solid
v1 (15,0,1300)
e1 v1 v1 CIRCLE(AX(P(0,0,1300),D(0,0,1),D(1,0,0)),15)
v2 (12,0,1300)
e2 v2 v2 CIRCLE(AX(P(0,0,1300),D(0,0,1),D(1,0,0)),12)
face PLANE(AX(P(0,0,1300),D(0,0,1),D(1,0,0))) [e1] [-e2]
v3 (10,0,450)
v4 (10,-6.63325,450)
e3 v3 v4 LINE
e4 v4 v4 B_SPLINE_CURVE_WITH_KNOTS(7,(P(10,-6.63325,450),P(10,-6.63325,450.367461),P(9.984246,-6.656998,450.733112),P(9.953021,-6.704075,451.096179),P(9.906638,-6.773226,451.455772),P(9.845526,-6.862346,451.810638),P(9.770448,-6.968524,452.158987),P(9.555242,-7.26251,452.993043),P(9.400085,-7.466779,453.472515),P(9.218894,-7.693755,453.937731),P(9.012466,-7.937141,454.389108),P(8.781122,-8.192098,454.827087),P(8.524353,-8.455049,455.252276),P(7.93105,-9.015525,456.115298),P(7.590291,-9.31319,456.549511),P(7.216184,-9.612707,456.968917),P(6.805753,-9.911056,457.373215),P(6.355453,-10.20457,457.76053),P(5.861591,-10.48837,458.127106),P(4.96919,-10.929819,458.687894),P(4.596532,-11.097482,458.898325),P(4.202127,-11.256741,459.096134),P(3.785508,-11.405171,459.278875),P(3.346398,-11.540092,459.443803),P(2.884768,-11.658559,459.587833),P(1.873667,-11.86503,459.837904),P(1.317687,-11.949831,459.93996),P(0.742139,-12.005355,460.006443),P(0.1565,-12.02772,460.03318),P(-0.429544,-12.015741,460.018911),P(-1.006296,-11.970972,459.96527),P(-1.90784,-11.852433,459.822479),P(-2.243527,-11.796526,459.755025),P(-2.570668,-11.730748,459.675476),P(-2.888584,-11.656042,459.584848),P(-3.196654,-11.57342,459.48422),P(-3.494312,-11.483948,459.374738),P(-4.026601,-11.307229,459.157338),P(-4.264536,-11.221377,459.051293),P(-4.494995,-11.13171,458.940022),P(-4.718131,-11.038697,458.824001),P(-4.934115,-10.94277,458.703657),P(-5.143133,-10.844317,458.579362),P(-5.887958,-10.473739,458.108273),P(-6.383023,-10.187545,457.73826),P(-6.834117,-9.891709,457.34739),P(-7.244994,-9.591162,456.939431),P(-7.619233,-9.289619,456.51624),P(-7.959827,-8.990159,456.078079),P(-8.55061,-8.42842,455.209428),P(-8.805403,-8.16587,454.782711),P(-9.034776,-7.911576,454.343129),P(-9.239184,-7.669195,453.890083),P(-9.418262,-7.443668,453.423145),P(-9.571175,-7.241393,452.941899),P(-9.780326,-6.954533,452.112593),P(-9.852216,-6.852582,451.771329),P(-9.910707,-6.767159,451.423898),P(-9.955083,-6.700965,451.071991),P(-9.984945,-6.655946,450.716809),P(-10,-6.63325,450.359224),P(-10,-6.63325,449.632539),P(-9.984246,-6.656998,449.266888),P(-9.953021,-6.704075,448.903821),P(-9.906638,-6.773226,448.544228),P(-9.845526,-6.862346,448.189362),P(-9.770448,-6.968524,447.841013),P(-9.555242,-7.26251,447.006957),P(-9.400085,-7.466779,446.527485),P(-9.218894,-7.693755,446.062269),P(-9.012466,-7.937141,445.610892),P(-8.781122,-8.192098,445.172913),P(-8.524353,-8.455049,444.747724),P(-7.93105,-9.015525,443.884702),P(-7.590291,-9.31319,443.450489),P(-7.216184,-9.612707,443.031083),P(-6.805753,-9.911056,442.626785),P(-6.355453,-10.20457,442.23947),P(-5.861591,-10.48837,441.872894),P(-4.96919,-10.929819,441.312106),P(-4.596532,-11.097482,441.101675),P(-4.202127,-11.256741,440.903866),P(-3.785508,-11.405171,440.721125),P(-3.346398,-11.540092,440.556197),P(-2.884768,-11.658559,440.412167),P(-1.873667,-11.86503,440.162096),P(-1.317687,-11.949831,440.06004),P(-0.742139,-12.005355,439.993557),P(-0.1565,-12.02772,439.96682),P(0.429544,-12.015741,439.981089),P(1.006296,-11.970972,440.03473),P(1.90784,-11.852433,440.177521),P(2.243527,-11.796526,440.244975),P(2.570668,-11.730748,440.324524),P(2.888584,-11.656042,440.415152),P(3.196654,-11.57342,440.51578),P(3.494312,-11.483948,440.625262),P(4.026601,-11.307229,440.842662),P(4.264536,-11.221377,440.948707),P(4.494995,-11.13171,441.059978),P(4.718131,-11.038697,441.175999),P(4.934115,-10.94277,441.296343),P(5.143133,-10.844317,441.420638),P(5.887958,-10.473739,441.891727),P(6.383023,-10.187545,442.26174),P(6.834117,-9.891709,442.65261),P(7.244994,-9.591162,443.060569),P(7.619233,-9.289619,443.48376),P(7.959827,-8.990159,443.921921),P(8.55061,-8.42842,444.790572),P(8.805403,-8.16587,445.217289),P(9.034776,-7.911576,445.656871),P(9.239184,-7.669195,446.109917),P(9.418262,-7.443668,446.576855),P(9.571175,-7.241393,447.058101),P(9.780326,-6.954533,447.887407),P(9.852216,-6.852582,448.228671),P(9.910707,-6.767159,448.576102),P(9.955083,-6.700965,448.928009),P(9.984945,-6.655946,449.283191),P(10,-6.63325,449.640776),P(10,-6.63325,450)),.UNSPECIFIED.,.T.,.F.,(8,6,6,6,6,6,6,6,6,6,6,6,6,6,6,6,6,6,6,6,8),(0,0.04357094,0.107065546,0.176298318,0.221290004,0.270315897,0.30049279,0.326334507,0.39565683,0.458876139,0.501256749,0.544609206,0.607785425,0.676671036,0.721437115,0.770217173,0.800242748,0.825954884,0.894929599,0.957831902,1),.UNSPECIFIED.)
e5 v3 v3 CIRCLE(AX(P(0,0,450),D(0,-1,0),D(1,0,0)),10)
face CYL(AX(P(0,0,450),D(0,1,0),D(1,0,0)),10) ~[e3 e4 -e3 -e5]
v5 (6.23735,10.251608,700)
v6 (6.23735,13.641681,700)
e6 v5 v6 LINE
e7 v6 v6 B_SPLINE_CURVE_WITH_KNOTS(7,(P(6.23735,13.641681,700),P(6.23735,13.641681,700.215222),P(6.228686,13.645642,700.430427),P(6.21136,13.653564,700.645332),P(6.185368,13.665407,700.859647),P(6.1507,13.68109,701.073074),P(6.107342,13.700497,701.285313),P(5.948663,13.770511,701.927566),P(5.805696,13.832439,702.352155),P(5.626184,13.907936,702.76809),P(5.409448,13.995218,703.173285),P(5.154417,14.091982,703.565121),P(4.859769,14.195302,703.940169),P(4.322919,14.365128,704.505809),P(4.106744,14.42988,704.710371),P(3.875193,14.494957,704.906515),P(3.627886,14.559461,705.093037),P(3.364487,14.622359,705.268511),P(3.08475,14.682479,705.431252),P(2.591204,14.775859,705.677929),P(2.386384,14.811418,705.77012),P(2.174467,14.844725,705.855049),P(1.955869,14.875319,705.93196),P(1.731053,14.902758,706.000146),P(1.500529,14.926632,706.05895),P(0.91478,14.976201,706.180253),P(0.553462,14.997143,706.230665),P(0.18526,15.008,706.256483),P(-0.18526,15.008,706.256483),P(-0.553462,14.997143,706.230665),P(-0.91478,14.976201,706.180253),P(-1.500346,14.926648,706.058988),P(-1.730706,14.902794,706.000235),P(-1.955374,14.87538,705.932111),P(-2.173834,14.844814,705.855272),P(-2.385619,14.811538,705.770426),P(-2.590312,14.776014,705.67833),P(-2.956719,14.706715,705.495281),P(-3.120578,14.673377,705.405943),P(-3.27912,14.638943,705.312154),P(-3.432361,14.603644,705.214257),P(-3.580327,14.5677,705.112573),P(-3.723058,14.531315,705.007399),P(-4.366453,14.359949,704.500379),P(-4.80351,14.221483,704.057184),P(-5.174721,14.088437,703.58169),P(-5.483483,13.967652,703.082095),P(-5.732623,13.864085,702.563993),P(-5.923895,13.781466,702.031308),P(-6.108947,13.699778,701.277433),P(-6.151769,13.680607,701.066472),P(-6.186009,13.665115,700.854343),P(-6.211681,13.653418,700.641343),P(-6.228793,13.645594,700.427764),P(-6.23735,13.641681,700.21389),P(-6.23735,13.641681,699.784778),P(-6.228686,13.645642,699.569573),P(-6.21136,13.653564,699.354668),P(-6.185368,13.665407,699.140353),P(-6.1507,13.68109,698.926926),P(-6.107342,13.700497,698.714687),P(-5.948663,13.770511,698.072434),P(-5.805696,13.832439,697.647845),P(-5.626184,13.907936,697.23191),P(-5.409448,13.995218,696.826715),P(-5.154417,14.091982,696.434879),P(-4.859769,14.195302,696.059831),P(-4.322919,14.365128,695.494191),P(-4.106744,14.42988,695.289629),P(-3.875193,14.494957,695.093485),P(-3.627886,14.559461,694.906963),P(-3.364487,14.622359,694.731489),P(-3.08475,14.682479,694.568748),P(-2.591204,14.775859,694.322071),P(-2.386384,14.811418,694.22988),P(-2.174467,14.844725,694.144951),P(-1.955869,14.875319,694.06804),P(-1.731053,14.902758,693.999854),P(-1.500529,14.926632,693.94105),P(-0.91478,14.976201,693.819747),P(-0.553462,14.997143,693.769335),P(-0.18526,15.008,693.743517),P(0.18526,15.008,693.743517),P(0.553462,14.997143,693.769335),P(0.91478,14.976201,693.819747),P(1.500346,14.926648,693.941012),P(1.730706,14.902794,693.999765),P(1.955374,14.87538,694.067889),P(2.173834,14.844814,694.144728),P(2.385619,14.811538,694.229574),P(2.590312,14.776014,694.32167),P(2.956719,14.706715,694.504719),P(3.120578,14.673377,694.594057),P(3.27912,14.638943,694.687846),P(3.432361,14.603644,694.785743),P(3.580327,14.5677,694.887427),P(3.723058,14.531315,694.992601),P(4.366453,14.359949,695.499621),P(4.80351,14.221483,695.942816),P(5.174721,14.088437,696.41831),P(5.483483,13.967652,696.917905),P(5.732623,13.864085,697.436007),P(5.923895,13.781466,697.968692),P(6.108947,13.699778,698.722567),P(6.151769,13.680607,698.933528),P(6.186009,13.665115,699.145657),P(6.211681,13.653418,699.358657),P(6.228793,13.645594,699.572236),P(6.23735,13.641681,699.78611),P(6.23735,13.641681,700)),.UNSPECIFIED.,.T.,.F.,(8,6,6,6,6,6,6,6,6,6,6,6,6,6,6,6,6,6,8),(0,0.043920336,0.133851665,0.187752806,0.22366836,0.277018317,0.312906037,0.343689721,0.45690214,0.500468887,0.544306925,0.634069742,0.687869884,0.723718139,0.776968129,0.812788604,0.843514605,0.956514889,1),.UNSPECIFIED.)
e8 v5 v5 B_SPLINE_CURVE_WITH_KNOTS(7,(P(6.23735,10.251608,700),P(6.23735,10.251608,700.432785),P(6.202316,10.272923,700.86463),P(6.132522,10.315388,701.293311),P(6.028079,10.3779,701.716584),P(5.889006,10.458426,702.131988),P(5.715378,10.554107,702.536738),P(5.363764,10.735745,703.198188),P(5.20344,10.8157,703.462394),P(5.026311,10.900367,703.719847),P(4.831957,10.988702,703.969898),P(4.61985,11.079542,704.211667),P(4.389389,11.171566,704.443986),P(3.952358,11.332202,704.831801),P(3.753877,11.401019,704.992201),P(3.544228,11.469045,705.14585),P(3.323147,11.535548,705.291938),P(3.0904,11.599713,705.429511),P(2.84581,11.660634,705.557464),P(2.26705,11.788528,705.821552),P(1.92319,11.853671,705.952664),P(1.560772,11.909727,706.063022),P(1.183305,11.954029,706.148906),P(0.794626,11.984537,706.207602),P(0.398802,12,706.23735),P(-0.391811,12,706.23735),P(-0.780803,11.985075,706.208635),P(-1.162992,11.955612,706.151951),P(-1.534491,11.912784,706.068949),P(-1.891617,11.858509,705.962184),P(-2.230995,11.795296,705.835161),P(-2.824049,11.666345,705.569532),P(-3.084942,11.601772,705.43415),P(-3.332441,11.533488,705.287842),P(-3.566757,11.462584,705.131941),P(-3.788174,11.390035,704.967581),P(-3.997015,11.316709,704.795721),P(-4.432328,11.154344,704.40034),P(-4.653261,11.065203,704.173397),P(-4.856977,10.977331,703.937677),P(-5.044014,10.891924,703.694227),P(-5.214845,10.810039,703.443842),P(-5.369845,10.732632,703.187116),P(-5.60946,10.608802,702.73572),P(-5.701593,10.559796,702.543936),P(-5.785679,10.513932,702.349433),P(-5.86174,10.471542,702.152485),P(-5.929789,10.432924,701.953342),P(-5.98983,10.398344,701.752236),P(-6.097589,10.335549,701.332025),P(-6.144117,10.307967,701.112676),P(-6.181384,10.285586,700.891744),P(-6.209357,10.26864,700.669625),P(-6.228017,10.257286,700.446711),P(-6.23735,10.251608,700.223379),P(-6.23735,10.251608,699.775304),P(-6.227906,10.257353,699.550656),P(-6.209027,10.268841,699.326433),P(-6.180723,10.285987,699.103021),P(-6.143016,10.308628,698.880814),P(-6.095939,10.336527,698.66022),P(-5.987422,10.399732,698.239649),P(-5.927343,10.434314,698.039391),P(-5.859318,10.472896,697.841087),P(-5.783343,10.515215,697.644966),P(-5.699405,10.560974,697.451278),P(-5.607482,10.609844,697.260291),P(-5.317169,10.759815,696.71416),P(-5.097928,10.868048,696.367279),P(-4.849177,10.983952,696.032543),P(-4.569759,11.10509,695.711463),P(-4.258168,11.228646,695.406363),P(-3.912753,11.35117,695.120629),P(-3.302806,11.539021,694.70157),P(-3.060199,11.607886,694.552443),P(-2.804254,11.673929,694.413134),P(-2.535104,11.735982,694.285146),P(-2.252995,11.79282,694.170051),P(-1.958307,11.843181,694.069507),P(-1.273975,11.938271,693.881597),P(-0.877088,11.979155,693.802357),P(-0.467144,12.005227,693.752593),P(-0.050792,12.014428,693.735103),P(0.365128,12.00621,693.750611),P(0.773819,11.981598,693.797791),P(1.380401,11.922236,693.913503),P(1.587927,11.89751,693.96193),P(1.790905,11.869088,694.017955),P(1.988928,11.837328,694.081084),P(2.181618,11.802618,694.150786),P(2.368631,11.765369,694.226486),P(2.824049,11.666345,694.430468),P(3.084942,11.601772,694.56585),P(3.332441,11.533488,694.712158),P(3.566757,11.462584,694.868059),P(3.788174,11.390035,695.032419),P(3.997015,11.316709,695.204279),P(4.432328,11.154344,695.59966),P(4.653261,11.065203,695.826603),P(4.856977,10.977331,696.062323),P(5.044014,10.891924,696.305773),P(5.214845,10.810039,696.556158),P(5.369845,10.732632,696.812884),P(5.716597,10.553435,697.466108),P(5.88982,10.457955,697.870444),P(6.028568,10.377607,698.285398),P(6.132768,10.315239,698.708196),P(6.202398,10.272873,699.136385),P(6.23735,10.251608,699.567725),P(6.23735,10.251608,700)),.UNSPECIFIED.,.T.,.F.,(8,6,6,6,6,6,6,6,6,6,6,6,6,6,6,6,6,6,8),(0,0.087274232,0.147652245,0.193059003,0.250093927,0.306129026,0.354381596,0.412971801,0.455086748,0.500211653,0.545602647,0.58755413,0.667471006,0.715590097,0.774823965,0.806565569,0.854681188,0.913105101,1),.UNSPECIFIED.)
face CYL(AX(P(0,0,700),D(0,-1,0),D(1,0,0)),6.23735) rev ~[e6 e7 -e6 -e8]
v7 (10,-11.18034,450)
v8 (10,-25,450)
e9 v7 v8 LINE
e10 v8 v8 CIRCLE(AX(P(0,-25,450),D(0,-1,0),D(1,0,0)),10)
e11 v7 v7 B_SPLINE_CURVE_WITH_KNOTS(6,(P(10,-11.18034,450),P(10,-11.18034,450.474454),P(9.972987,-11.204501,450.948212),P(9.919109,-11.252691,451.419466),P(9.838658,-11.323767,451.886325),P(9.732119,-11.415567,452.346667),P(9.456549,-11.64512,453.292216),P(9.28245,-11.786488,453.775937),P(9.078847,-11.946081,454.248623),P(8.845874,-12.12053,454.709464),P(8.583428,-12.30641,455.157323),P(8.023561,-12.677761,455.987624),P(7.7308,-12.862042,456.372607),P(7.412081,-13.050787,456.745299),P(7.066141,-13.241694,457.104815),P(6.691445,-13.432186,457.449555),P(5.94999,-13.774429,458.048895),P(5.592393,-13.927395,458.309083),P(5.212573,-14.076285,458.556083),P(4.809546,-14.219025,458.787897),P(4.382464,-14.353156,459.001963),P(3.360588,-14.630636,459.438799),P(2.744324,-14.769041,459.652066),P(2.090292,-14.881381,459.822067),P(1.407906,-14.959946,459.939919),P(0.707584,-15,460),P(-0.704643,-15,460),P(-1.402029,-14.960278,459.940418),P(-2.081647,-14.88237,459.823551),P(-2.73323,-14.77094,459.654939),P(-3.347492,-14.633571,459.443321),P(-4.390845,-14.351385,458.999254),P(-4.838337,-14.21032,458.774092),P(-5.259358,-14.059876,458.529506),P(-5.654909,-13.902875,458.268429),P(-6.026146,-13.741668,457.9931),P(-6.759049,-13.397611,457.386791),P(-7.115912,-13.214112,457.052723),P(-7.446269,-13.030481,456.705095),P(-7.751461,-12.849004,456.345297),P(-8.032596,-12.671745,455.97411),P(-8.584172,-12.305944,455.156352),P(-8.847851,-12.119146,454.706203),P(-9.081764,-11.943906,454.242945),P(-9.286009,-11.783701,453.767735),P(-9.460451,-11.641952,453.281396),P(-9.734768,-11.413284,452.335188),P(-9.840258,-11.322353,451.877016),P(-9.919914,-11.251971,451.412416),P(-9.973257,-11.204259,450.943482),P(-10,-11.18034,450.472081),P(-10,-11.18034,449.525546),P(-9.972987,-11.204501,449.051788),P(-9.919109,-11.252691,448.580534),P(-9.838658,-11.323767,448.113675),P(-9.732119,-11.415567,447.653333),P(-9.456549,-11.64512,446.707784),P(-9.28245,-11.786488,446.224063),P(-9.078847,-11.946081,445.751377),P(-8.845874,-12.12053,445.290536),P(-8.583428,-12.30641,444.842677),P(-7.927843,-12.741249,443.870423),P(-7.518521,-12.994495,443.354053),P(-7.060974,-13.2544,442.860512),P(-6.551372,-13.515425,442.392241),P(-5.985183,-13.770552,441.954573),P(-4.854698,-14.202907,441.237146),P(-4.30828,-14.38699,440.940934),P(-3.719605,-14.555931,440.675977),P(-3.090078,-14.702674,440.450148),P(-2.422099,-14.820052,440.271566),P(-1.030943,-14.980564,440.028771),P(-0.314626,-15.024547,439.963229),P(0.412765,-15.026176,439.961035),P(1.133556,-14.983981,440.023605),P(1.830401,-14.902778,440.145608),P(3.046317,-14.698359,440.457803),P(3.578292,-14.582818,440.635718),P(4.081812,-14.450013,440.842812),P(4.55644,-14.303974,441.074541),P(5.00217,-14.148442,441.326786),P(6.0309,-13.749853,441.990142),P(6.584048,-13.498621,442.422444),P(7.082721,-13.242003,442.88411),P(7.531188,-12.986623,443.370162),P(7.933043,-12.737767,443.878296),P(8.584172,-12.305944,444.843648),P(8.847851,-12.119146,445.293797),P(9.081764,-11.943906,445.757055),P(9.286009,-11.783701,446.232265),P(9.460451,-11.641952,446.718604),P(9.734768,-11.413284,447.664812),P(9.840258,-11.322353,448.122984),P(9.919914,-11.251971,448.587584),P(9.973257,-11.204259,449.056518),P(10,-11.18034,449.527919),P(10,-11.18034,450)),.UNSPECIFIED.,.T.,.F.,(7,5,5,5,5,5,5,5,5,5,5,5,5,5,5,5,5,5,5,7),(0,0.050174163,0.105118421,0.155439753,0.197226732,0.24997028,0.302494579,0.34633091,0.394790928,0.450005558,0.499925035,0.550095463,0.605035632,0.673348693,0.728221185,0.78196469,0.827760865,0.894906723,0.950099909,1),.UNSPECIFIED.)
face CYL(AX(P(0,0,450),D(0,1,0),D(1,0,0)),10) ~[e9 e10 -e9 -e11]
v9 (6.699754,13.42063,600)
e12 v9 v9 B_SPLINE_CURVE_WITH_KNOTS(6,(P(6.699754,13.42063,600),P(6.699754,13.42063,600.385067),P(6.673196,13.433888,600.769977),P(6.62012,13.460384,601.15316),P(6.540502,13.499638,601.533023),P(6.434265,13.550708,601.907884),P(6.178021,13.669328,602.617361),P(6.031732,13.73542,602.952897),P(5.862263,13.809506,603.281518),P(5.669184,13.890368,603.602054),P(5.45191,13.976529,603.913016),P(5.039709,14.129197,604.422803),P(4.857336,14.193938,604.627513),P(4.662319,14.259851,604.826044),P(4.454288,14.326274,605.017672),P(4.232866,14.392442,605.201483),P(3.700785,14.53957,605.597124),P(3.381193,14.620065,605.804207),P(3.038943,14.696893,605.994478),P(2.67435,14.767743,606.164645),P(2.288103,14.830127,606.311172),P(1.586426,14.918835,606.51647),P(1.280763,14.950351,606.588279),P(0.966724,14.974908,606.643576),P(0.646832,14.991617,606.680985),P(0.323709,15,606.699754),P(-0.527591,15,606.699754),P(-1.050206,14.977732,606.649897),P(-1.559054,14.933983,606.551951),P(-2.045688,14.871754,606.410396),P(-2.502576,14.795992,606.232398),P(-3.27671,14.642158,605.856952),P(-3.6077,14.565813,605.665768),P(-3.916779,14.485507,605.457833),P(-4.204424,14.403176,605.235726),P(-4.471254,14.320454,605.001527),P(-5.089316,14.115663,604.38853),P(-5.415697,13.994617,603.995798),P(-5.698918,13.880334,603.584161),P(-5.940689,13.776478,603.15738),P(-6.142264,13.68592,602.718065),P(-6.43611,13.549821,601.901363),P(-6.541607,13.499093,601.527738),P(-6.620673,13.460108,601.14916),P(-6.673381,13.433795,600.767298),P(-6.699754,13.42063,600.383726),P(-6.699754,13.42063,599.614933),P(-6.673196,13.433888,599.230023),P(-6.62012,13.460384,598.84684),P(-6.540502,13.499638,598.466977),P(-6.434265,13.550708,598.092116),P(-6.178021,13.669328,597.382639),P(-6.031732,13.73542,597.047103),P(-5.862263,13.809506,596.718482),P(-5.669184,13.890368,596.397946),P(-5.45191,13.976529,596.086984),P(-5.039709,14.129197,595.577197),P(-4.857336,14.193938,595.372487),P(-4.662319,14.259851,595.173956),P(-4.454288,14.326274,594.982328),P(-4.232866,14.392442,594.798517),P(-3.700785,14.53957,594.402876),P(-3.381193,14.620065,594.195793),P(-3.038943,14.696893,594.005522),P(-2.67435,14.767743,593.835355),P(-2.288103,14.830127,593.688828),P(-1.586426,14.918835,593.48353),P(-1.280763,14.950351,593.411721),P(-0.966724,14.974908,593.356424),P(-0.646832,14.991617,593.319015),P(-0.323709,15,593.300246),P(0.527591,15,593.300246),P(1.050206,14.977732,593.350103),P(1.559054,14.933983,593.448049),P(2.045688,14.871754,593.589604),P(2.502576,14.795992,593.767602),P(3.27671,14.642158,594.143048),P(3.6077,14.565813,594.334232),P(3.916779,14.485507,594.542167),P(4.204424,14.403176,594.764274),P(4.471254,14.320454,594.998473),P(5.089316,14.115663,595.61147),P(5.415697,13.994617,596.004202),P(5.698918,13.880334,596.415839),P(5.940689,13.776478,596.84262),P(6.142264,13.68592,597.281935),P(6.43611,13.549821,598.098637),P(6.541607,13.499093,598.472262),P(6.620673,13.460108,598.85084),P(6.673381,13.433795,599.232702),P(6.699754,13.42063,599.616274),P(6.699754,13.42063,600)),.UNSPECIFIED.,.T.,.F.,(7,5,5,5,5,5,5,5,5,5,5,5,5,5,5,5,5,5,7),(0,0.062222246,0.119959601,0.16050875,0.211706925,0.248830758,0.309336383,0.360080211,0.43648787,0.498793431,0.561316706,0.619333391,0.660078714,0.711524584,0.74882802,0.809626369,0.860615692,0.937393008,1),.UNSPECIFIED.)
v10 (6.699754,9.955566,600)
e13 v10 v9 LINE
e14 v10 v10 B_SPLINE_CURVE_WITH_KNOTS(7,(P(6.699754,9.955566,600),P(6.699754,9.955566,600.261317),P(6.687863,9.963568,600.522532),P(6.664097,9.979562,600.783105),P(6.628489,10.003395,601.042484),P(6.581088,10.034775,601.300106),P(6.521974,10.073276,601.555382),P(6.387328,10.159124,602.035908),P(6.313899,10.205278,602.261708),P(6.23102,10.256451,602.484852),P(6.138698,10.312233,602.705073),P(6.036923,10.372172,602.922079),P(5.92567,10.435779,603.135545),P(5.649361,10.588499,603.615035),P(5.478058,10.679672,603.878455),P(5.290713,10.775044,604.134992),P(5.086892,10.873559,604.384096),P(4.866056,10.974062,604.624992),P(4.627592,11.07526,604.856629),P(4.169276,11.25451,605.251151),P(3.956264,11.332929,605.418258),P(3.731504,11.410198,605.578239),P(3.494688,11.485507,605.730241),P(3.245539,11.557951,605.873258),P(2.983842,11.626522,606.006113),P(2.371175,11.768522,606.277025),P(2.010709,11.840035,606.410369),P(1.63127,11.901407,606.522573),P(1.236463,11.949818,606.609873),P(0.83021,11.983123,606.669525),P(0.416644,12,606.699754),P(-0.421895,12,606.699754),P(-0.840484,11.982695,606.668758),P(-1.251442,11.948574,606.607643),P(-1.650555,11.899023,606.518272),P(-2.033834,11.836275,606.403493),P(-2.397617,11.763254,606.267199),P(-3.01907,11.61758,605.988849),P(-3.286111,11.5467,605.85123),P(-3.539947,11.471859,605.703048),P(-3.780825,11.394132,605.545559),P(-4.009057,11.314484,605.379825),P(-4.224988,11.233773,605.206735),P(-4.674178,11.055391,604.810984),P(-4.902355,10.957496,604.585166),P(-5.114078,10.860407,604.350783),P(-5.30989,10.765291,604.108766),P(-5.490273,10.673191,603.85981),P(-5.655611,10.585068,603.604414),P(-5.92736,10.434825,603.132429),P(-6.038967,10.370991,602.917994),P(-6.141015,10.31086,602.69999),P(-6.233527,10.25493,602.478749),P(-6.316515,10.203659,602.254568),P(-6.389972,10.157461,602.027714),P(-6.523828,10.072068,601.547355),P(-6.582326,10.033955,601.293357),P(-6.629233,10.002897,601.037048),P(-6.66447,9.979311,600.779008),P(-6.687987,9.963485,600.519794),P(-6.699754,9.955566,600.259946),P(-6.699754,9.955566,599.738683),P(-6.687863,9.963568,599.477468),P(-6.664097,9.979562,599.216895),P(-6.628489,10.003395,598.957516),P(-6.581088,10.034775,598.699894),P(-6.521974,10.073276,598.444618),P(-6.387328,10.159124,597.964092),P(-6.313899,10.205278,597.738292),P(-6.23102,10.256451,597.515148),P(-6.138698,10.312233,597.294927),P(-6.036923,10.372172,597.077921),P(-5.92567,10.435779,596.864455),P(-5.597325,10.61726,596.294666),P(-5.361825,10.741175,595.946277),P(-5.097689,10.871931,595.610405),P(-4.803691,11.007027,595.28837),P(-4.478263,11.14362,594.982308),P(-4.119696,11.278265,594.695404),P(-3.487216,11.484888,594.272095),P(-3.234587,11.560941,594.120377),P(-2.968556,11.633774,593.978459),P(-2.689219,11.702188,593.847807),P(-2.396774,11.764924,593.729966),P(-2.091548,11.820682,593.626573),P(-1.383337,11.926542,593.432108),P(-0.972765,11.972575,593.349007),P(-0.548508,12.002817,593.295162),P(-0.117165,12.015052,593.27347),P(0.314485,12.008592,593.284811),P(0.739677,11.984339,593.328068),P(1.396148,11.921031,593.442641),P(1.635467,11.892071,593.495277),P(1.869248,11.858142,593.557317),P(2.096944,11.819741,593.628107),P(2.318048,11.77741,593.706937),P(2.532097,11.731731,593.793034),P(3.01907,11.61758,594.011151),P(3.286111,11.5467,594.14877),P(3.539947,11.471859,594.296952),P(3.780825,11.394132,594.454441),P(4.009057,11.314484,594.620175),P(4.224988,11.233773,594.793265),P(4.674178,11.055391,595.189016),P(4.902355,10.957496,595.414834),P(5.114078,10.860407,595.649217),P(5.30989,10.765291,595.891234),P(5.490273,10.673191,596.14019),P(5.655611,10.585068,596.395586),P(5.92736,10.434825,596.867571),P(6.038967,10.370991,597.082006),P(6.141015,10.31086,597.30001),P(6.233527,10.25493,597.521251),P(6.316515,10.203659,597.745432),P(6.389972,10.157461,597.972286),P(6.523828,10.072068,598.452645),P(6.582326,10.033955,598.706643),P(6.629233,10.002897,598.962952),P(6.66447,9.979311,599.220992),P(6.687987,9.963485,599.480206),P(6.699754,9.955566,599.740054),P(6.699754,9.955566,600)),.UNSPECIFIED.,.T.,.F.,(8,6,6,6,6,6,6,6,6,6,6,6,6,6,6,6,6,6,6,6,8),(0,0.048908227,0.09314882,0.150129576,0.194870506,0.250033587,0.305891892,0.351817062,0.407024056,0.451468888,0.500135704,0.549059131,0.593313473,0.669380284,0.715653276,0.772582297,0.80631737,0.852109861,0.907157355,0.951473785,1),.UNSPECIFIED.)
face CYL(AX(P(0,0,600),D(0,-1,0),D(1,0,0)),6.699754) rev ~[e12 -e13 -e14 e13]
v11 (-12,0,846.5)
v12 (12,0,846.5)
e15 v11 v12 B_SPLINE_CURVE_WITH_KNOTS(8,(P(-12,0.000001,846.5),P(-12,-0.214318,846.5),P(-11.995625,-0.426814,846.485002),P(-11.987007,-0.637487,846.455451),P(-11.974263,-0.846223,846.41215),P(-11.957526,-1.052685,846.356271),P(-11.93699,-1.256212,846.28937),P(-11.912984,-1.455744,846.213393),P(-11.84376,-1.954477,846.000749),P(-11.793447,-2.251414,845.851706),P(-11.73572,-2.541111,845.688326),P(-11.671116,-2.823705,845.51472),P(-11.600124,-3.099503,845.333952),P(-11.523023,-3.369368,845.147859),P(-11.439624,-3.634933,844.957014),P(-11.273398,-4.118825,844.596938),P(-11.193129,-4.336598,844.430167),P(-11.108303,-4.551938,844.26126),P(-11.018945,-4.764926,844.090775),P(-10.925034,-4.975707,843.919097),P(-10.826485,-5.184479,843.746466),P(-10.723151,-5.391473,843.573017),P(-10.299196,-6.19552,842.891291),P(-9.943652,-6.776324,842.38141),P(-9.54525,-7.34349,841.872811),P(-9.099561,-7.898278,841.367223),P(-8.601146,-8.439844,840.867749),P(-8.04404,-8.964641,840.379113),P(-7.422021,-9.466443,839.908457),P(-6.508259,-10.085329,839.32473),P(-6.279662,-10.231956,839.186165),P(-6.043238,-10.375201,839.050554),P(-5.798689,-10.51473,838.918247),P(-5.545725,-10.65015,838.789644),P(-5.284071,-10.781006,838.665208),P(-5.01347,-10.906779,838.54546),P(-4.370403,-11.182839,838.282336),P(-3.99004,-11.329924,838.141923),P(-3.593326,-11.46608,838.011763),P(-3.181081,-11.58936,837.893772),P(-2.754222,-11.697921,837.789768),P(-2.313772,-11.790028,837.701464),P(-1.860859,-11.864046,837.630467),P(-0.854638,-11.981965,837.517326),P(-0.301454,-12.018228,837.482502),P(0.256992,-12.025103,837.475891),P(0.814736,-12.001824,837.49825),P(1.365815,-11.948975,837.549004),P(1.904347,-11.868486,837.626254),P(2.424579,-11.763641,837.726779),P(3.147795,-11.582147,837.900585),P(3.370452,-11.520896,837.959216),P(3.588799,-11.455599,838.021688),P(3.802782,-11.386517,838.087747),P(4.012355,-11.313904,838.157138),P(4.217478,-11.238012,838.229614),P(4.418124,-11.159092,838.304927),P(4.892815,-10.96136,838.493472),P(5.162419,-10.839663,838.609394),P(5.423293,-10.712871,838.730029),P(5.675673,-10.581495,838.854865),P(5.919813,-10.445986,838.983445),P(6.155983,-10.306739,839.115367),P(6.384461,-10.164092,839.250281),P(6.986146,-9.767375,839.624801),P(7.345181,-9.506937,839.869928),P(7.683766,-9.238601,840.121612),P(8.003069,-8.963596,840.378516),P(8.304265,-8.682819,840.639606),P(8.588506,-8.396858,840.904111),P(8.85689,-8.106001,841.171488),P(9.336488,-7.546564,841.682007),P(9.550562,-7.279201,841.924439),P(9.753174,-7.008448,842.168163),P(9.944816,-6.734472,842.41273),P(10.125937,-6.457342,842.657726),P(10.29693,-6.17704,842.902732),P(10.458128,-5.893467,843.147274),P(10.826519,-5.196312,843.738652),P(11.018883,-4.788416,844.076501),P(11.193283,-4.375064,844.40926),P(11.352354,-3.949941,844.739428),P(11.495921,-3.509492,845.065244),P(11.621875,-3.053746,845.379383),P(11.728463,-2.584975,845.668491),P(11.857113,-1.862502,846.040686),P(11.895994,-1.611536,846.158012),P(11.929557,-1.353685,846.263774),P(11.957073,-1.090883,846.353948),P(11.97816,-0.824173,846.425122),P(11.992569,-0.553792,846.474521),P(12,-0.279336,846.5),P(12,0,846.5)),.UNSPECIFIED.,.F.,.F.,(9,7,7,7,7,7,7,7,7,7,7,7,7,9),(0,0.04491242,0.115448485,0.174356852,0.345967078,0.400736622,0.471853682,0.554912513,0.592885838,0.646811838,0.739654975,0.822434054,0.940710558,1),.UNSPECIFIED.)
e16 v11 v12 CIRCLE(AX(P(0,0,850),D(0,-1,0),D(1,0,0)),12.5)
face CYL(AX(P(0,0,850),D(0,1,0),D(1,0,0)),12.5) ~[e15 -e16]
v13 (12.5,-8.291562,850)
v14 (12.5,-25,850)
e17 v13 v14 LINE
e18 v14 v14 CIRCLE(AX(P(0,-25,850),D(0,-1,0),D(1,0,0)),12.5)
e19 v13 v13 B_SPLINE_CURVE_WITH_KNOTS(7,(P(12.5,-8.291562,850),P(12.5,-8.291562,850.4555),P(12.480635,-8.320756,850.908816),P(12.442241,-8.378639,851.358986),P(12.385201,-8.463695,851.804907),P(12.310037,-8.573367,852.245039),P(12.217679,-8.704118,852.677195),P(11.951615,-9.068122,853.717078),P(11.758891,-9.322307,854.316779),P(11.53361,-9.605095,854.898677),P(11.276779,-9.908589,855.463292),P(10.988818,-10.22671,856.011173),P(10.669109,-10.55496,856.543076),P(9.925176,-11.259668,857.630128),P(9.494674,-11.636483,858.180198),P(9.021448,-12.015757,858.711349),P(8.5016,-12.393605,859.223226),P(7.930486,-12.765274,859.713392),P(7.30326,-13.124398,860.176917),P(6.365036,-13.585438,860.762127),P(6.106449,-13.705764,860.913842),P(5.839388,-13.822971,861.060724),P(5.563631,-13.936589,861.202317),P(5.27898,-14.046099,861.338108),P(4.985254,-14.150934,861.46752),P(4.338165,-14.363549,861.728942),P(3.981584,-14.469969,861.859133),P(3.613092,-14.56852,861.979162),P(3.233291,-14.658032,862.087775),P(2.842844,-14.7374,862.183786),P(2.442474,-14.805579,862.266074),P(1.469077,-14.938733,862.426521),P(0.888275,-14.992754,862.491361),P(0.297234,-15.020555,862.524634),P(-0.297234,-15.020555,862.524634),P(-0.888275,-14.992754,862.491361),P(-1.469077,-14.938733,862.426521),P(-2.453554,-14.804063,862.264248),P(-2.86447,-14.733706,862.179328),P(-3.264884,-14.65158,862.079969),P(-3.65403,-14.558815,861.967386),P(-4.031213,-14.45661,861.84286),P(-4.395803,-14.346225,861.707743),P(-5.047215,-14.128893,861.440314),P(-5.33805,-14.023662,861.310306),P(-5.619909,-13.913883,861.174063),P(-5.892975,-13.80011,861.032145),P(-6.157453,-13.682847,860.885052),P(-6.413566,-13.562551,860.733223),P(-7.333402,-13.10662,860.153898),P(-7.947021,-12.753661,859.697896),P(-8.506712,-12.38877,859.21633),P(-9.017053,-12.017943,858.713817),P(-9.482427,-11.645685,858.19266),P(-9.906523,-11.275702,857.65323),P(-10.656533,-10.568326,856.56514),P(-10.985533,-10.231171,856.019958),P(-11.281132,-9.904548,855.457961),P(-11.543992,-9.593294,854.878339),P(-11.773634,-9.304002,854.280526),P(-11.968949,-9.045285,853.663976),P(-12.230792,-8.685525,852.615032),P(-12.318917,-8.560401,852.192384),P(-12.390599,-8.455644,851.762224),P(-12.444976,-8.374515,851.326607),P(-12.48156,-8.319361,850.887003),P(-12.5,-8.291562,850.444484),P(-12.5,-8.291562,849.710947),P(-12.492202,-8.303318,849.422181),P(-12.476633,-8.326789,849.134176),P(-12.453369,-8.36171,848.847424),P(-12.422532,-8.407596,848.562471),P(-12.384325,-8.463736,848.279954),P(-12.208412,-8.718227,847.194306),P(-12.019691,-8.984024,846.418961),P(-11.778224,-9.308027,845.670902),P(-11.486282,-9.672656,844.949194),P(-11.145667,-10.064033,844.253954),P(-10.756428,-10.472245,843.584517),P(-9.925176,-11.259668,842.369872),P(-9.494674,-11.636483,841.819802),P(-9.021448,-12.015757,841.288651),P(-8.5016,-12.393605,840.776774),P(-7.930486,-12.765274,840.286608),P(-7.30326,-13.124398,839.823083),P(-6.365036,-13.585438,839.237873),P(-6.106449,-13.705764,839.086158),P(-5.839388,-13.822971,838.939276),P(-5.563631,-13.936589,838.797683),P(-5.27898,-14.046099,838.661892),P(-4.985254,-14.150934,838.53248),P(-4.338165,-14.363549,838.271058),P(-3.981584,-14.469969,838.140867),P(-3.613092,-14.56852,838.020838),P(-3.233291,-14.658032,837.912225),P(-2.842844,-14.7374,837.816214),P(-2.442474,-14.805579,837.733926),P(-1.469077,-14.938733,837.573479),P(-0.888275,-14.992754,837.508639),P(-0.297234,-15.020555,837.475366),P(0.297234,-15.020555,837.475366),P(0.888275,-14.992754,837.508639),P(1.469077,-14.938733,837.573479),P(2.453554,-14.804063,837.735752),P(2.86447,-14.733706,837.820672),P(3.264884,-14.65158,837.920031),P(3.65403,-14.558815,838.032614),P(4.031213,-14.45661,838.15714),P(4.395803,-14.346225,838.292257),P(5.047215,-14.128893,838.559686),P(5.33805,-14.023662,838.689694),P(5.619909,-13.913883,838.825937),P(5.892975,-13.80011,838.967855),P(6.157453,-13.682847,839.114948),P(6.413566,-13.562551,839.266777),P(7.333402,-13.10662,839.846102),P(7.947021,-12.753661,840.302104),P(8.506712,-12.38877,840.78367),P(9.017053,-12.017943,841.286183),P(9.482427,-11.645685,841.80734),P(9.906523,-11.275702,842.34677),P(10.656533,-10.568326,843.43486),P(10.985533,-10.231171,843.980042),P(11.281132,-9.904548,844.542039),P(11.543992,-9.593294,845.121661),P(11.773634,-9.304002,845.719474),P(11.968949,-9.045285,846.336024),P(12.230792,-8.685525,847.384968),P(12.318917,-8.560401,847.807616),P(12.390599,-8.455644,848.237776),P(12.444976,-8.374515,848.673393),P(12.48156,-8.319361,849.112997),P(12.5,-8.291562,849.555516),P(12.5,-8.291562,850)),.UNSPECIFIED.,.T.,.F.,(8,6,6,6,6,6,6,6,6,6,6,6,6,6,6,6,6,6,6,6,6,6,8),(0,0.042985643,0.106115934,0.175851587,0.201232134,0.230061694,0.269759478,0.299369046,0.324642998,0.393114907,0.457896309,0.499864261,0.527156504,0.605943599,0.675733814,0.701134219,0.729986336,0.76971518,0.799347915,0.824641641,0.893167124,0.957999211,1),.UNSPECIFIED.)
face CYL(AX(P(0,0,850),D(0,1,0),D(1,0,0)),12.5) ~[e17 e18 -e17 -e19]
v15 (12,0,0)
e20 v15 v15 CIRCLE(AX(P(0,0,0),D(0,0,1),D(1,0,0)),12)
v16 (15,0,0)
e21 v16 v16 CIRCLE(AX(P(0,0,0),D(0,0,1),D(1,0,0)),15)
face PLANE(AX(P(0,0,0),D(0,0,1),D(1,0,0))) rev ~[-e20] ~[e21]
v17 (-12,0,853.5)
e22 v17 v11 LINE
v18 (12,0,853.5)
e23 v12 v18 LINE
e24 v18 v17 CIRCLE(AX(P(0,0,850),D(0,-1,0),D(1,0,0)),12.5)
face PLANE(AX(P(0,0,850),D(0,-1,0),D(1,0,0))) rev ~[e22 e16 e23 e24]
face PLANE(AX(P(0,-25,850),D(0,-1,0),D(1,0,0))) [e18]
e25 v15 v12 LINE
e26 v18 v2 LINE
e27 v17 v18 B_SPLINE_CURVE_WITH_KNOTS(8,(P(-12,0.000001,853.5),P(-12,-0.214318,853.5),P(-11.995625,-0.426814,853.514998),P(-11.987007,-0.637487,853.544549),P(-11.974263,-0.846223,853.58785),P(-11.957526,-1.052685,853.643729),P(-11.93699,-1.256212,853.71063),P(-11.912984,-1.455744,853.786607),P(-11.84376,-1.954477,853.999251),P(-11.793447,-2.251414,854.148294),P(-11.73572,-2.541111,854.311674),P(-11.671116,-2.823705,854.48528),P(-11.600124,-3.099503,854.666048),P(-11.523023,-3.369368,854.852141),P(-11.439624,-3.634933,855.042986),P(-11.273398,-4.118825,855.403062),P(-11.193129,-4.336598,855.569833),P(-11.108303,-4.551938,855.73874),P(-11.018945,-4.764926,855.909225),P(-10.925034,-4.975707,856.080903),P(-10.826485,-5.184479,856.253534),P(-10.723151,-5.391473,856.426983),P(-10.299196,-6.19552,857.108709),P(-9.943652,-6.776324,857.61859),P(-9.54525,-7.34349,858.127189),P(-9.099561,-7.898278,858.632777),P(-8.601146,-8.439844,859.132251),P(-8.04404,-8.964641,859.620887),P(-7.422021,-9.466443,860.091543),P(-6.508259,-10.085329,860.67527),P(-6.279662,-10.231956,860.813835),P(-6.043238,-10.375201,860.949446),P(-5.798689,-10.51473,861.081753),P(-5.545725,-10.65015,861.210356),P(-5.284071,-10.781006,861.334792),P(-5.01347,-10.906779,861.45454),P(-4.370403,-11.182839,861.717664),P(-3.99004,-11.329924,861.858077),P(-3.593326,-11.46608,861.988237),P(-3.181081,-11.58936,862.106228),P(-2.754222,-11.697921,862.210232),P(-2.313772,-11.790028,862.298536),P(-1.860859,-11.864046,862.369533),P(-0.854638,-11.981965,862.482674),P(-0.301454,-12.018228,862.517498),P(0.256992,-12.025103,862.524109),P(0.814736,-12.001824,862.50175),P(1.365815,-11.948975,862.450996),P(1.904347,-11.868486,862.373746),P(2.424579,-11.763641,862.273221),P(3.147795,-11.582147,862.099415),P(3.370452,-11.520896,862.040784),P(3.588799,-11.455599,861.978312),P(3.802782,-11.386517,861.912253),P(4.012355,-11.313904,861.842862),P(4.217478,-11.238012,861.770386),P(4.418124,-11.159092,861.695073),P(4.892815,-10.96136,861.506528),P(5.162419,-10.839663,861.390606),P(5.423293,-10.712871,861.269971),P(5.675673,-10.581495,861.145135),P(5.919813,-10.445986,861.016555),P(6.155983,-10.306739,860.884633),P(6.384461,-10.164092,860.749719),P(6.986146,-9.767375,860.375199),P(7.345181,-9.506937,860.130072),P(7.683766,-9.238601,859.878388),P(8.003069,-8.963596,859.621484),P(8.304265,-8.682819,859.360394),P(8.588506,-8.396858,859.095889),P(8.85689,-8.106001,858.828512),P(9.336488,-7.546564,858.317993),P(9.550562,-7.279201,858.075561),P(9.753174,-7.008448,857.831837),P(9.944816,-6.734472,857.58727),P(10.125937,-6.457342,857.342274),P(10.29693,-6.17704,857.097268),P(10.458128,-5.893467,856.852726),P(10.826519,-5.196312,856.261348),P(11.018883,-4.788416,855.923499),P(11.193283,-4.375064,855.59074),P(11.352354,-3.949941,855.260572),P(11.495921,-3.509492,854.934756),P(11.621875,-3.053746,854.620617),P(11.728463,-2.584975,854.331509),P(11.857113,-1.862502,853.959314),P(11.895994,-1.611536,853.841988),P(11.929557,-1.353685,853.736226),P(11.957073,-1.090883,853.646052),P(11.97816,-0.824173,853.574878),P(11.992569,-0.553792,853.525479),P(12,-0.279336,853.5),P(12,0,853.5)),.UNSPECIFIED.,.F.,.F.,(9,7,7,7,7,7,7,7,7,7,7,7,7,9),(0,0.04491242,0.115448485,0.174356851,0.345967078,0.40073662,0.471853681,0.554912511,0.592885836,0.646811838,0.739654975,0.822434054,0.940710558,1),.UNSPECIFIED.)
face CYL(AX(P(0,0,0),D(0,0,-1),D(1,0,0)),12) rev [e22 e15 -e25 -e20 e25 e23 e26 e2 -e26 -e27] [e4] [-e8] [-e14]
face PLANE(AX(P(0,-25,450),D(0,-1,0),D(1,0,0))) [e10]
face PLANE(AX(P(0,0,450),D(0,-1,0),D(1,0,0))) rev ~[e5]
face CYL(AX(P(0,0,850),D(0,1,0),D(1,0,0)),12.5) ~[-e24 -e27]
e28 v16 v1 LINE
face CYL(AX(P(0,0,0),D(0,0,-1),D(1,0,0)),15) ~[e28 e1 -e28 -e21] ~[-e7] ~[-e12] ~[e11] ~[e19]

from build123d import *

# Parameters (mm, degrees)
F0_R     = 15
F0_R_2   = 12
F1_DEPTH = 1300
F2_R     = 6.699754
F2_R_2   = 6.23735
F3_DEPTH = 25
F4_R     = 10
F4_R_2   = 12.5
F5_DEPTH = 25


with BuildPart() as f1:
    # F0 (on Top) → F1 (new body)
    with BuildSketch(Plane.XY):
        Circle(F0_R)
        Circle(F0_R_2, mode=Mode.SUBTRACT)
    extrude(amount=F1_DEPTH)

    # F2 (on Front) → F3 (cut)
    with BuildSketch(Plane.XZ):
        with Locations((0, 600)):
            Circle(F2_R)
        with Locations((0, 700)):
            Circle(F2_R_2)
    extrude(amount=-F3_DEPTH, mode=Mode.SUBTRACT)

    # F4 (on Front) → F5 (join)
    with BuildSketch(Plane.XZ):
        with Locations((0, 450)):
            Circle(F4_R)
        with Locations((0, 850)):
            Circle(F4_R_2)
    extrude(amount=F5_DEPTH)


solid = f1.part
